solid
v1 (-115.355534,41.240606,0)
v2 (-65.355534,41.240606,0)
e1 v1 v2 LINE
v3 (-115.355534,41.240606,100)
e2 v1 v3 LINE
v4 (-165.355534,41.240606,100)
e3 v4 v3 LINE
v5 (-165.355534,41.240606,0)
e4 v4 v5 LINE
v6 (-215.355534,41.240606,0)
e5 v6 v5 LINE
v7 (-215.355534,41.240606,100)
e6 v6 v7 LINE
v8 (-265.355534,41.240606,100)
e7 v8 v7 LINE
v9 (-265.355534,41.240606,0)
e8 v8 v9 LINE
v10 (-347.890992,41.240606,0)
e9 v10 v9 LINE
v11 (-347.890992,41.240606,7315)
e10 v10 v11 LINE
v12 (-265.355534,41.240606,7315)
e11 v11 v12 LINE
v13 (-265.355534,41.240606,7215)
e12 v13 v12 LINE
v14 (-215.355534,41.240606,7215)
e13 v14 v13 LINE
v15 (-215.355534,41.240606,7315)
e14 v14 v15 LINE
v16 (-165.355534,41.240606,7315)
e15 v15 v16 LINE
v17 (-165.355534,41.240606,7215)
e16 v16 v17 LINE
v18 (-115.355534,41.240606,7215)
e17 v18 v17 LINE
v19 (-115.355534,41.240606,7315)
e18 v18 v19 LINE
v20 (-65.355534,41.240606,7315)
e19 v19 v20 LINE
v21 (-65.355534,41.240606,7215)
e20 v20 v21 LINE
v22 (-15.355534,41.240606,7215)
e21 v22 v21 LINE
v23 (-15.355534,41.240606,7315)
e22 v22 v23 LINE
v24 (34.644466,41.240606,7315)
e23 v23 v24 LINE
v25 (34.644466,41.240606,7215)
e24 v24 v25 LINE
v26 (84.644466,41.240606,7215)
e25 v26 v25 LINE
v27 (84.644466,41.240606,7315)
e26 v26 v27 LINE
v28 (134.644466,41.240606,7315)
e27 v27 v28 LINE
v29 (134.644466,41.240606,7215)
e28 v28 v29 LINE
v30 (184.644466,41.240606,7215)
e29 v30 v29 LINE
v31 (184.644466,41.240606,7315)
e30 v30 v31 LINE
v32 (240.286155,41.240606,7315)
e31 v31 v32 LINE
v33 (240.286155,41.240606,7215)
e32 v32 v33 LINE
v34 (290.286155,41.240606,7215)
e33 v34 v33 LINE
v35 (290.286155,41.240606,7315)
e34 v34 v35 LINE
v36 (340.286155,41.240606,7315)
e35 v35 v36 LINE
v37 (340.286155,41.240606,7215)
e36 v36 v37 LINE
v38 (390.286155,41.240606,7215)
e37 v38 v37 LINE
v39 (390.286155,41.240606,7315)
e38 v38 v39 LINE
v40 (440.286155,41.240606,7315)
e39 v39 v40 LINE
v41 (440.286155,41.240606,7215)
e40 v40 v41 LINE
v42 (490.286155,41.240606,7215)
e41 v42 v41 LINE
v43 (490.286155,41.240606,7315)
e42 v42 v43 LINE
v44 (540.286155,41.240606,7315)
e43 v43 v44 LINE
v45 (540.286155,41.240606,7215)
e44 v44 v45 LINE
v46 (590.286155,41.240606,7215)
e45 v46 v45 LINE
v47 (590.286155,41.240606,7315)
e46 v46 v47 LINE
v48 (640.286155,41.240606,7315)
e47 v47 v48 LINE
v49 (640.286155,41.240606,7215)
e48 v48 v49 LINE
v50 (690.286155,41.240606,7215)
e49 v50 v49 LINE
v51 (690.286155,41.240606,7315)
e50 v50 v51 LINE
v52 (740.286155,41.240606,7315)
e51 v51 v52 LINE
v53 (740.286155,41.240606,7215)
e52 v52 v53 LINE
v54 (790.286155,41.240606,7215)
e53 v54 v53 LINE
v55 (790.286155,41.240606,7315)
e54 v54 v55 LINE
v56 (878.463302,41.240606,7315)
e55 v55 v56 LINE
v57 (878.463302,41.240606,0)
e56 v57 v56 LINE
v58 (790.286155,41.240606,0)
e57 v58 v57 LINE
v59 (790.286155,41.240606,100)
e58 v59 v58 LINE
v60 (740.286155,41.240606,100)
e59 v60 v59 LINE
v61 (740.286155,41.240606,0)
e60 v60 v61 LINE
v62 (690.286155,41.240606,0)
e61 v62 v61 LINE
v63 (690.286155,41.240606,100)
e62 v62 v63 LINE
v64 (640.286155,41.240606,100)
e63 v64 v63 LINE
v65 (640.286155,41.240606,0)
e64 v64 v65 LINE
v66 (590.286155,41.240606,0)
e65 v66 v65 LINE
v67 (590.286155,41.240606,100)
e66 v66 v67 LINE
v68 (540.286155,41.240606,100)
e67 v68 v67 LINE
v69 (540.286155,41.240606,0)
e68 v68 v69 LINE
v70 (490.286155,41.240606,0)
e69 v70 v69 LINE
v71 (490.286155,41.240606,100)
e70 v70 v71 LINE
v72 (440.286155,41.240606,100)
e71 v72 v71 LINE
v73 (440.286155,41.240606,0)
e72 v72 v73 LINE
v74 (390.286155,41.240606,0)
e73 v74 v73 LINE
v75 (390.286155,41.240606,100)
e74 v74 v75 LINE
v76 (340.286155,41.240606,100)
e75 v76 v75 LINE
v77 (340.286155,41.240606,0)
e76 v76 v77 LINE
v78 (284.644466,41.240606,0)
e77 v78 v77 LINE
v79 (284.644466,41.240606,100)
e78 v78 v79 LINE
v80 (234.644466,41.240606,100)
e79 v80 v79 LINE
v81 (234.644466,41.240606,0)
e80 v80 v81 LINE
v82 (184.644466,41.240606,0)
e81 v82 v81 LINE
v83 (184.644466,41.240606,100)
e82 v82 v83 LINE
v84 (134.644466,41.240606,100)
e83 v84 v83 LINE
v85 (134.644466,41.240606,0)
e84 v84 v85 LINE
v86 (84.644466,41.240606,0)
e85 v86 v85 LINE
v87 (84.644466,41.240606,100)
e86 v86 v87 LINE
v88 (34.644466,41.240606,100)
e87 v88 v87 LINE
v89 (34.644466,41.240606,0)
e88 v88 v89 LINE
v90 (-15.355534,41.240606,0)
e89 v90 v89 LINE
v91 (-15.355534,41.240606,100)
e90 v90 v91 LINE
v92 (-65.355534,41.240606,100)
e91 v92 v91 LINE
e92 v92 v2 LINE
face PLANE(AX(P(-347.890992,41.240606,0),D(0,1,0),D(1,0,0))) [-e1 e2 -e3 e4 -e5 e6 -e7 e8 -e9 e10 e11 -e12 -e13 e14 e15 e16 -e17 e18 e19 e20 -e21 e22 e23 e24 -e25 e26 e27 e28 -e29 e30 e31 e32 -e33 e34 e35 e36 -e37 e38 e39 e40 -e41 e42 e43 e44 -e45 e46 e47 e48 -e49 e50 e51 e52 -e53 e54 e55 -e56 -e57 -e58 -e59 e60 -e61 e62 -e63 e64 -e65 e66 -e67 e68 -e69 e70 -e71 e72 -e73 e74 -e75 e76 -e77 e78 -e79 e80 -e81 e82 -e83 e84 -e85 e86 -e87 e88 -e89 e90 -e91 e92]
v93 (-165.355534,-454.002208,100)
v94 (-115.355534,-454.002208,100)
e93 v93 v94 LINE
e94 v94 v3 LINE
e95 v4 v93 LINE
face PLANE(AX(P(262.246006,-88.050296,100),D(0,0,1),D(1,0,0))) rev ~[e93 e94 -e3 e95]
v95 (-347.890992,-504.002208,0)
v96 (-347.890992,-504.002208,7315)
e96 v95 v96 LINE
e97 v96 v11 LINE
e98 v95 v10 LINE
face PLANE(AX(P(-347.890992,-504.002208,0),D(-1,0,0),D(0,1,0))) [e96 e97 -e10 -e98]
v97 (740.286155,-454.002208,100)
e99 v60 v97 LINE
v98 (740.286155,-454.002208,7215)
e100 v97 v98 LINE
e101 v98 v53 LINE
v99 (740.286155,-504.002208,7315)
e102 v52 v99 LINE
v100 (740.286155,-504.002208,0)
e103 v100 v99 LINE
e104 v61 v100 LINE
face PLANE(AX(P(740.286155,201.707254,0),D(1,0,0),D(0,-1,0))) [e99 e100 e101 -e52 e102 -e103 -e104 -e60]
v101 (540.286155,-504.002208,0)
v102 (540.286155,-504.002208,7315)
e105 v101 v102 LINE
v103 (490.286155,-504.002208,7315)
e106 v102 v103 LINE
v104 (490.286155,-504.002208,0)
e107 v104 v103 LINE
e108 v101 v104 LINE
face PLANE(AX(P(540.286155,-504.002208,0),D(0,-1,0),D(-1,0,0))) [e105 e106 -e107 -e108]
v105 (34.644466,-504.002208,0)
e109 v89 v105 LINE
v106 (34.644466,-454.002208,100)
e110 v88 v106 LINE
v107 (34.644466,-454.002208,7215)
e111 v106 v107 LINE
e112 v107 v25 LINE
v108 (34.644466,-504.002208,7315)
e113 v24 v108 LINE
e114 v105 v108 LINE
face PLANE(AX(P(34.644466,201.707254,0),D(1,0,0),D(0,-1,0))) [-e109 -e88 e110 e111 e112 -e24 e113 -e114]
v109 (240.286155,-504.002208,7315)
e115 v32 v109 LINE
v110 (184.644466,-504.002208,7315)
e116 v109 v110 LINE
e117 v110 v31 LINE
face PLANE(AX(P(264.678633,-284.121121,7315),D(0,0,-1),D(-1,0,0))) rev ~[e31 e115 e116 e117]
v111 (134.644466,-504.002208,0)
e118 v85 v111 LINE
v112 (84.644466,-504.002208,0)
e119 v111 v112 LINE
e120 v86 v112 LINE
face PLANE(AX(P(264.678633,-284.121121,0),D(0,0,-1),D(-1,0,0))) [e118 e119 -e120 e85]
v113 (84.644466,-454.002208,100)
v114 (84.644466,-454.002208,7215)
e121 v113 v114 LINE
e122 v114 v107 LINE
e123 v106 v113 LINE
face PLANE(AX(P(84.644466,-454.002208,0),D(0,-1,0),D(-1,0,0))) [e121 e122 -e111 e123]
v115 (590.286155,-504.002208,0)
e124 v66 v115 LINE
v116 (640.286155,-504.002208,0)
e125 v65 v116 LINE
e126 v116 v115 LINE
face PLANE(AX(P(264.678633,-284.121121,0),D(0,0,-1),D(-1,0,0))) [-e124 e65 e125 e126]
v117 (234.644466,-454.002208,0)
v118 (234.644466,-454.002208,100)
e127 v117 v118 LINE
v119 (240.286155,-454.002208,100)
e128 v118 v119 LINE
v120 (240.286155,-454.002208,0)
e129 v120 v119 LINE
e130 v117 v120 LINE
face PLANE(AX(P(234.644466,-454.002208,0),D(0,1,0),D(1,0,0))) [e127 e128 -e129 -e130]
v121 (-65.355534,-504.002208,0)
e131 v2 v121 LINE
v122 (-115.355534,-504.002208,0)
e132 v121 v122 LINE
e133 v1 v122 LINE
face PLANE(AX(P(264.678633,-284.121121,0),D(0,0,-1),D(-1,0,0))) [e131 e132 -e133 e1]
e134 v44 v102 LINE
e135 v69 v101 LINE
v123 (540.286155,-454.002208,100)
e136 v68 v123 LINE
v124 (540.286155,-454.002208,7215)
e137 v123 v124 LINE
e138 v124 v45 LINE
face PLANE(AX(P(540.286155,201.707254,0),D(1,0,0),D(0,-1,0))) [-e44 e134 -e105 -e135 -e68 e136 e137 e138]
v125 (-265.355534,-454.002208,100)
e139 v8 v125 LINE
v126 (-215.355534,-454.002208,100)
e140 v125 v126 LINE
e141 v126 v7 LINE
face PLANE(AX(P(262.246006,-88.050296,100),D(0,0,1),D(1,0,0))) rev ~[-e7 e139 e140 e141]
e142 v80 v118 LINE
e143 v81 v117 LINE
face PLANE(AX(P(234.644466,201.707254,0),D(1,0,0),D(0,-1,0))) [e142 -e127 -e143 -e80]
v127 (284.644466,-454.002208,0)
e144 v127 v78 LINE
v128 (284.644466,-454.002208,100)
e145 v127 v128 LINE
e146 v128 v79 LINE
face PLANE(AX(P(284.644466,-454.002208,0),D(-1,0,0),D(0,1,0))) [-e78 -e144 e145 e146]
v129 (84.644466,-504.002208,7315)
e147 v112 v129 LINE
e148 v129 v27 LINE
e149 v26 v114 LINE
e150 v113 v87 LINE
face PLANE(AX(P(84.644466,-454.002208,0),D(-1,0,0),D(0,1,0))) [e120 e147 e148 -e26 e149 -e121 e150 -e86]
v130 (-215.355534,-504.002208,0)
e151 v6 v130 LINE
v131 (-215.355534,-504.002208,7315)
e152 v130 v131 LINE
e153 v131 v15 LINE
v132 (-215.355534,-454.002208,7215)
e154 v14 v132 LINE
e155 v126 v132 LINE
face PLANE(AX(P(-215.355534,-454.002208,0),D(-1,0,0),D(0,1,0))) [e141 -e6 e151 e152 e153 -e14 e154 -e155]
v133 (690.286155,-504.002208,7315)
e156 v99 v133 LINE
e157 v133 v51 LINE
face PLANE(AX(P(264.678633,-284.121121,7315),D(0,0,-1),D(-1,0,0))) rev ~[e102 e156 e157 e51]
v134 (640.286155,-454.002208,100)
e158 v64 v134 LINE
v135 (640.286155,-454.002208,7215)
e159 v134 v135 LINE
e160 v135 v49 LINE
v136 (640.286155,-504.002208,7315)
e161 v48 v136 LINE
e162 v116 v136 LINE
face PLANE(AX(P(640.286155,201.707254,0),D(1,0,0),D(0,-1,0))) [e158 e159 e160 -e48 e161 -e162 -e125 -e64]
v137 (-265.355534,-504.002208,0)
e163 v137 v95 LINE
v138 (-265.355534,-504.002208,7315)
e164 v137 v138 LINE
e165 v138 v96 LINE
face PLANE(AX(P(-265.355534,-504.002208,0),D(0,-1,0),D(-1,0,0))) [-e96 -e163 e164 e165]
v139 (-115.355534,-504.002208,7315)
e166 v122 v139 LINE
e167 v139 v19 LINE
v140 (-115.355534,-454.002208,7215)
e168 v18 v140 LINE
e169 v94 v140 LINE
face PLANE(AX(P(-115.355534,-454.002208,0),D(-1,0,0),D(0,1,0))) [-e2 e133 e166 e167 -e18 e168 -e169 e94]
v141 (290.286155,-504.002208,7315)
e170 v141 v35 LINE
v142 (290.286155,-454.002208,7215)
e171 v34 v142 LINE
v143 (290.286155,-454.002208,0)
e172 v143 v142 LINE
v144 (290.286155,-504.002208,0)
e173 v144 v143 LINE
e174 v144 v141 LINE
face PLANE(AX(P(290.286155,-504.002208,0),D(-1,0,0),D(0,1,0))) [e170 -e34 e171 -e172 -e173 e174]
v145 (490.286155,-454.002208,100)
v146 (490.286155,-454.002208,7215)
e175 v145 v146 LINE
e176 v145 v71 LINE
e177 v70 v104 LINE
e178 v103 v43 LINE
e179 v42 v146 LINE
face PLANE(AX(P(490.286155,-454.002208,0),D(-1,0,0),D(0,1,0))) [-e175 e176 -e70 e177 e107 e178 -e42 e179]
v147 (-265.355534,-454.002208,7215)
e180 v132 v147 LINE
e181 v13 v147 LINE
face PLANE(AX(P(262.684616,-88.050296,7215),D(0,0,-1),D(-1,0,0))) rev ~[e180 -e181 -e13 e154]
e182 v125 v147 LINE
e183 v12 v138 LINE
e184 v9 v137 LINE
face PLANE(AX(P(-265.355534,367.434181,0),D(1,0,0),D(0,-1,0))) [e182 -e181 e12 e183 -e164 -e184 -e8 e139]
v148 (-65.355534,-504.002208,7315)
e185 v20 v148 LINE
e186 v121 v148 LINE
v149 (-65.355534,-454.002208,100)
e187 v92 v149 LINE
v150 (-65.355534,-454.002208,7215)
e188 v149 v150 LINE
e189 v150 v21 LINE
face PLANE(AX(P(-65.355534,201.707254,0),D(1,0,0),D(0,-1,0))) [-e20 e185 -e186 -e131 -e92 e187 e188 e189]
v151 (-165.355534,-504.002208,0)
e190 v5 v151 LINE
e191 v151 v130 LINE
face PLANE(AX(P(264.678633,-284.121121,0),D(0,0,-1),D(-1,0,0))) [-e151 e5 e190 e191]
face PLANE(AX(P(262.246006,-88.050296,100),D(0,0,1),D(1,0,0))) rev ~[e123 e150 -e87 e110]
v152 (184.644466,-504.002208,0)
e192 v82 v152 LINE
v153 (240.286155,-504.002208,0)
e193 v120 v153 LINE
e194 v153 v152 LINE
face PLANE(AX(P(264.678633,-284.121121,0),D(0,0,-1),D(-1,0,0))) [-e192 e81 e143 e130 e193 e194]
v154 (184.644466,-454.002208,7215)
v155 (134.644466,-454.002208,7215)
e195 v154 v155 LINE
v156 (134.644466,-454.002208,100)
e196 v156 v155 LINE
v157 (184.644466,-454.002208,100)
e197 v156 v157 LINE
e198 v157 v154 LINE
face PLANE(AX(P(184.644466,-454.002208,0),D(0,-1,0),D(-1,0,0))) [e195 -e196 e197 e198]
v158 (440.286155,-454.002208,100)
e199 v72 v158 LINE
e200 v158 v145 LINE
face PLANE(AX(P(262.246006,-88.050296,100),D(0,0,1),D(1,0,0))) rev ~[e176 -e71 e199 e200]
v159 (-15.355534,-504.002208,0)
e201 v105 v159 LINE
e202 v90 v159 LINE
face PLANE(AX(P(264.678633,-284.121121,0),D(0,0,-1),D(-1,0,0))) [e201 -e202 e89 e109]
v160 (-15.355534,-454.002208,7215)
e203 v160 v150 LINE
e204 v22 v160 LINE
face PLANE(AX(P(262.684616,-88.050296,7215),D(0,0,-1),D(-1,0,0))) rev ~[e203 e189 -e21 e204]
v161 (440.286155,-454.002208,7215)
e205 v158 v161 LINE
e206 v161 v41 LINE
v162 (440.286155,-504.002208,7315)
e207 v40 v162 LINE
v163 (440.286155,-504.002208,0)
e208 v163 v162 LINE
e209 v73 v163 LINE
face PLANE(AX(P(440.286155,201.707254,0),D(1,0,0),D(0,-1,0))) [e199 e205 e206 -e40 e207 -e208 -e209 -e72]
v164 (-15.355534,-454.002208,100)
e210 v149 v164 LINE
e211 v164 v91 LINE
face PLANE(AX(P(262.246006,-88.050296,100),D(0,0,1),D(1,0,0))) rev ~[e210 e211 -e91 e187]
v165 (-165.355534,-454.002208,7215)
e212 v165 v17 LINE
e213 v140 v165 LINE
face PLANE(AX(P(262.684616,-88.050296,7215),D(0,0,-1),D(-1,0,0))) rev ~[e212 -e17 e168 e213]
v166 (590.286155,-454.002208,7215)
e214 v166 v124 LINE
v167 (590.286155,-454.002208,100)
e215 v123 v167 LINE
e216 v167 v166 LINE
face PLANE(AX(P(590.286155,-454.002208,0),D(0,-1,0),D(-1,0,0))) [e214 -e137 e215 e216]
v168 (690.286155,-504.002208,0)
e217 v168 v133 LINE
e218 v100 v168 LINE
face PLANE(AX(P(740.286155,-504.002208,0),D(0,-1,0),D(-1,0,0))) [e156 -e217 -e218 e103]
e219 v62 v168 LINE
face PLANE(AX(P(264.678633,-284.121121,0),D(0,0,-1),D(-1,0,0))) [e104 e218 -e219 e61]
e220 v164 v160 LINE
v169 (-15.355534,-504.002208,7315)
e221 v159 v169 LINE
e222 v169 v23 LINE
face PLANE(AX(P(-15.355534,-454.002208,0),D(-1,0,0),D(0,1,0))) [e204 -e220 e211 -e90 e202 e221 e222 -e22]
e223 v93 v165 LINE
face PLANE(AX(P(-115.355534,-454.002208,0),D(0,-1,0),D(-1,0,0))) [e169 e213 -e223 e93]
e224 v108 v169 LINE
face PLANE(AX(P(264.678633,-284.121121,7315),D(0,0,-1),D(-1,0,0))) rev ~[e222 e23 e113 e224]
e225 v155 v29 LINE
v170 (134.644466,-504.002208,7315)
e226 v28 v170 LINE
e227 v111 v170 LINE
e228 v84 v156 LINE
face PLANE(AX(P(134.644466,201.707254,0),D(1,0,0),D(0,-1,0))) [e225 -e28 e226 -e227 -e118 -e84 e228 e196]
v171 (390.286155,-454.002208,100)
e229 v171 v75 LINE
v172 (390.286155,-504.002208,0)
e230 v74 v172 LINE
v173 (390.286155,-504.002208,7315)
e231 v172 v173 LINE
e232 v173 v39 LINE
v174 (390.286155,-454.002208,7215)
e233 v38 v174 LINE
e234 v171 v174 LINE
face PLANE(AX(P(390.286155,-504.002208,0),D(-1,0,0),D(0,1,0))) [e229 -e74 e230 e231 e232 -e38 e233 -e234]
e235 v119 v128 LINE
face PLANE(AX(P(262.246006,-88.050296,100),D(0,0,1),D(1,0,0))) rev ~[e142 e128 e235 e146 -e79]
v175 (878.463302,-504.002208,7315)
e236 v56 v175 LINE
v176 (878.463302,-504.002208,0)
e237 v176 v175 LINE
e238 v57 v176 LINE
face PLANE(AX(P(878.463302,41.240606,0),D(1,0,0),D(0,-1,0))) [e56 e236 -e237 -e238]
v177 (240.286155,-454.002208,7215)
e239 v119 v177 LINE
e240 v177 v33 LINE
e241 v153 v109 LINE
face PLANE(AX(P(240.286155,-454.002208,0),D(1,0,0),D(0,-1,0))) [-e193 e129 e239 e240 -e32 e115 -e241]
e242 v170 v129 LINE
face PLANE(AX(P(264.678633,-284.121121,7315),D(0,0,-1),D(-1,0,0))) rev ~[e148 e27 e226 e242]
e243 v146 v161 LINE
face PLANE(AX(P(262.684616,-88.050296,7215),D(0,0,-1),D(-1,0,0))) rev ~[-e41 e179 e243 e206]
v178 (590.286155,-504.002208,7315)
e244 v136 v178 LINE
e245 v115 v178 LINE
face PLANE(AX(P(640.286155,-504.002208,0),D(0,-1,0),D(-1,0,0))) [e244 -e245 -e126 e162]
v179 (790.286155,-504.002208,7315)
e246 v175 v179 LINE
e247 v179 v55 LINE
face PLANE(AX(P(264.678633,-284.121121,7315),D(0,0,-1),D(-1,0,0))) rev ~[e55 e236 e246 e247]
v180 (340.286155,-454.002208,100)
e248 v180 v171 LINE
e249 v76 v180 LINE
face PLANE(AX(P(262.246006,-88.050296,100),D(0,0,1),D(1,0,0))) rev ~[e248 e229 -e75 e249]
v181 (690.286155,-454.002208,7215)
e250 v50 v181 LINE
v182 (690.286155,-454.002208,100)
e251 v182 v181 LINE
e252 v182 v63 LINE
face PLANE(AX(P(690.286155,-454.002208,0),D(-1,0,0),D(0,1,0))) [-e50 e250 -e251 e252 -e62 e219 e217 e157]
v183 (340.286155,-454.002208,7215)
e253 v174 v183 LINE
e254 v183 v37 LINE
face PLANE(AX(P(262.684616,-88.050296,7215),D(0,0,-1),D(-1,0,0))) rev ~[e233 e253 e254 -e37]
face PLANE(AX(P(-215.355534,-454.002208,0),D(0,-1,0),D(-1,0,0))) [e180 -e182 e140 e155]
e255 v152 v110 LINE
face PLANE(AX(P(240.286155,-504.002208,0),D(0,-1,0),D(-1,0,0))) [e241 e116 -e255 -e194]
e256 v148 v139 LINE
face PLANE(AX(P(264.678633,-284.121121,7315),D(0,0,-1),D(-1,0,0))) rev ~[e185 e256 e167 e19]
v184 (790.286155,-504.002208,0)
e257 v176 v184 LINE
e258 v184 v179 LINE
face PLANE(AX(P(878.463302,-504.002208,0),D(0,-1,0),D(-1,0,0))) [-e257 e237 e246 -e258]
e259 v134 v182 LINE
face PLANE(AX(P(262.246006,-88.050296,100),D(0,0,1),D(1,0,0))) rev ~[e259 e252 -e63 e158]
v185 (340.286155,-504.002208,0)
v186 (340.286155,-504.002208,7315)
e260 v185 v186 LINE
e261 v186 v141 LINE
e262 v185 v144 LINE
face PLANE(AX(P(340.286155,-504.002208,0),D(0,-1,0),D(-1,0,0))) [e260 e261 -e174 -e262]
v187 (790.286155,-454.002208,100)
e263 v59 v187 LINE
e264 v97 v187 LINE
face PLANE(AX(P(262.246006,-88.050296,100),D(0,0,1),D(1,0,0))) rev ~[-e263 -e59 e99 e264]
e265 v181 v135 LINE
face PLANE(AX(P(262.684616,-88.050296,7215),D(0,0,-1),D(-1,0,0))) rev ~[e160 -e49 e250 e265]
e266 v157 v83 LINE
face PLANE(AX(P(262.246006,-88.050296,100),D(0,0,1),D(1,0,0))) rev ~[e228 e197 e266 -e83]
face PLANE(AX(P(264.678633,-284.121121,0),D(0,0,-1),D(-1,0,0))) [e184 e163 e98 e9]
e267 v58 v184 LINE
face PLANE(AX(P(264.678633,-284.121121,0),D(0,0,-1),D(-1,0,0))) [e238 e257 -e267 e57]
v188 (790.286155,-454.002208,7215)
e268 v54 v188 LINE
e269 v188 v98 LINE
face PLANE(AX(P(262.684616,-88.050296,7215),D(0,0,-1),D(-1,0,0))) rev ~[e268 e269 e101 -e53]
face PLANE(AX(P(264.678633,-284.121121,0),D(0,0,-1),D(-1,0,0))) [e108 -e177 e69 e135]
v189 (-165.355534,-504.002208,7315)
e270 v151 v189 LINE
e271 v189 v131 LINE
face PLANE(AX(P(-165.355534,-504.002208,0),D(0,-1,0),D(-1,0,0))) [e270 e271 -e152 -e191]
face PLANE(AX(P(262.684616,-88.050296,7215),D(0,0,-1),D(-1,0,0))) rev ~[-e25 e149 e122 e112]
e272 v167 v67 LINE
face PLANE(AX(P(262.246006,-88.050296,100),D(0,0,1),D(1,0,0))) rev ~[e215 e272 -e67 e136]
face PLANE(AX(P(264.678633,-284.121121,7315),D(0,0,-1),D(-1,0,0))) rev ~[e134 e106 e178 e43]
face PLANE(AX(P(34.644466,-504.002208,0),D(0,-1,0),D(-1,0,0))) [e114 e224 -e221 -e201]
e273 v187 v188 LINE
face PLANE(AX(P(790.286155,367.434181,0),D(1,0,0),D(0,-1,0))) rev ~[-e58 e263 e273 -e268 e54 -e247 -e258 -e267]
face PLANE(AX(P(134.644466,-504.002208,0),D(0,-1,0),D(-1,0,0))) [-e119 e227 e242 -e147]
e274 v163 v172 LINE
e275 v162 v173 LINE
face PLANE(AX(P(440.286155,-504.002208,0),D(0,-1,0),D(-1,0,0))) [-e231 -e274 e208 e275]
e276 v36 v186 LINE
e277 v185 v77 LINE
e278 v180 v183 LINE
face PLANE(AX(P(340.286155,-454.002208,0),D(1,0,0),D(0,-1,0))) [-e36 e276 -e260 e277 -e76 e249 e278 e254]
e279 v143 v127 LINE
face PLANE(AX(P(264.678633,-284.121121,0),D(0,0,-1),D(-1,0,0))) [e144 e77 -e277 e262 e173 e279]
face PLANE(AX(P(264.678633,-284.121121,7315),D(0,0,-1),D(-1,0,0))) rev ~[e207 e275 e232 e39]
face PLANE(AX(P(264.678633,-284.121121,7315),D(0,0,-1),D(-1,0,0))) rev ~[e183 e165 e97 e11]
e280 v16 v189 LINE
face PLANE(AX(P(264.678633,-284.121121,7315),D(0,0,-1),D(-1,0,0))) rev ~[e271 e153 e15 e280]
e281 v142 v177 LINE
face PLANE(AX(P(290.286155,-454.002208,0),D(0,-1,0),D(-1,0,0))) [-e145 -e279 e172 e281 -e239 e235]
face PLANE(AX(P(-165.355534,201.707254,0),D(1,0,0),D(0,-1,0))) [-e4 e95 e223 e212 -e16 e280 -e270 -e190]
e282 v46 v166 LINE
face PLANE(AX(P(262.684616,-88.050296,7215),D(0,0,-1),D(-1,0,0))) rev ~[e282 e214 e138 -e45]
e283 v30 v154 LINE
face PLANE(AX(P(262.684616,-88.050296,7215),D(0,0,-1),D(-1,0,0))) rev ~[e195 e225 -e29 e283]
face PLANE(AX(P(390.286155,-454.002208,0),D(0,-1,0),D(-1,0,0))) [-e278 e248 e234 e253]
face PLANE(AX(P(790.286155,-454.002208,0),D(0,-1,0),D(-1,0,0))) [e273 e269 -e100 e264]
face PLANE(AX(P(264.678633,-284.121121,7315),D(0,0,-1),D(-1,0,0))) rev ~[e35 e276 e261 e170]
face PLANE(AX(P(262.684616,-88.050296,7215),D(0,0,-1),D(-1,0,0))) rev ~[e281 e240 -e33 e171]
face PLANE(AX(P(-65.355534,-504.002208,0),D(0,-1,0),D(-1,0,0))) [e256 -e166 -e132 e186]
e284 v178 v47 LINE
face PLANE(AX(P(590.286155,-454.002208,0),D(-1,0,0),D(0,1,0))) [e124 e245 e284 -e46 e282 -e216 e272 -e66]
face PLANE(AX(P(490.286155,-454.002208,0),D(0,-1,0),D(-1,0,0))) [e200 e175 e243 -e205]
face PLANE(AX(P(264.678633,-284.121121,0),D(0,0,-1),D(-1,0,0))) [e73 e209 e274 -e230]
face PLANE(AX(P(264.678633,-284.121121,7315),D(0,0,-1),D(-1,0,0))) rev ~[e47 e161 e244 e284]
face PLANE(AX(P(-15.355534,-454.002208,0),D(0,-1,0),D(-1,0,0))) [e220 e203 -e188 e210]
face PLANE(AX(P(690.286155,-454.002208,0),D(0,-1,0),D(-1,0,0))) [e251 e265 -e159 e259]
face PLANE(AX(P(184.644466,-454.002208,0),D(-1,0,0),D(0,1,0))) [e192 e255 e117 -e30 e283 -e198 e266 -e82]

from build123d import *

# Parameters (mm, degrees)
BOSS_EXTRUDE1_DEPTH = 7315
CUT_EXTRUDE1_DEPTH  = 100
CUT_EXTRUDE2_DEPTH  = 100


with BuildPart() as part:
    # Sketch1 → Boss-Extrude1 (new body)
    with BuildSketch(Plane.XY):
        Polygon((390.286155145, -454.00220839), (340.286155145, -454.00220839), (340.286155145, -504.00220839), (290.286155145, -504.00220839), (290.286155145, -454.00220839), (240.286155145, -454.00220839), (240.286155145, -504.00220839), (184.64446635, -504.00220839), (184.64446635, -454.00220839), (134.64446635, -454.00220839), (134.64446635, -504.00220839), (84.64446635, -504.00220839), (84.64446635, -454.00220839), (34.64446635, -454.00220839), (34.64446635, -504.00220839), (-15.35553365, -504.00220839), (-15.35553365, -454.00220839), (-65.35553365, -454.00220839), (-65.35553365, -504.00220839), (-115.35553365, -504.00220839), (-115.35553365, -454.00220839), (-165.35553365, -454.00220839), (-165.35553365, -504.00220839), (-215.35553365, -504.00220839), (-215.35553365, -454.00220839), (-265.35553365, -454.00220839), (-265.35553365, -504.00220839), (-347.890991568, -504.00220839), (-347.890991568, 41.240606266), (878.463301858, 41.240606266), (878.463301858, -504.00220839), (790.286155145, -504.00220839), (790.286155145, -454.00220839), (740.286155145, -454.00220839), (740.286155145, -504.00220839), (690.286155145, -504.00220839), (690.286155145, -454.00220839), (640.286155145, -454.00220839), (640.286155145, -504.00220839), (590.286155145, -504.00220839), (590.286155145, -454.00220839), (540.286155145, -454.00220839), (540.286155145, -504.00220839), (490.286155145, -504.00220839), (490.286155145, -454.00220839), (440.286155145, -454.00220839), (440.286155145, -504.00220839), (390.286155145, -504.00220839), align=None)
    extrude(amount=BOSS_EXTRUDE1_DEPTH)

    # Sketch2 → Cut-Extrude1 (cut)
    with BuildSketch(Plane.XY.offset(7315)):
        Polygon((-265.35553365, -454.00220839), (-265.35553365, 201.707253547), (-265.35553365, 367.434180801), (790.286155145, 367.434180801), (790.286155145, -454.00220839), (740.286155145, -454.00220839), (740.286155145, 201.707253547), (690.286155145, 201.707253547), (690.286155145, -454.00220839), (640.286155145, -454.00220839), (640.286155145, 201.707253547), (590.286155145, 201.707253547), (590.286155145, -454.00220839), (540.286155145, -454.00220839), (540.286155145, 201.707253547), (490.286155145, 201.707253547), (490.286155145, -454.00220839), (440.286155145, -454.00220839), (440.286155145, 201.707253547), (390.286155145, 201.707253547), (390.286155145, -454.00220839), (340.286155145, -454.00220839), (340.286155145, 201.707253547), (290.286155145, 201.707253547), (290.286155145, -454.00220839), (240.286155145, -454.00220839), (240.286155145, 201.707253547), (184.64446635, 201.707253547), (184.64446635, -454.00220839), (134.64446635, -454.00220839), (134.64446635, 201.707253547), (84.64446635, 201.707253547), (84.64446635, -454.00220839), (34.64446635, -454.00220839), (34.64446635, 201.707253547), (-15.35553365, 201.707253547), (-15.35553365, -454.00220839), (-65.35553365, -454.00220839), (-65.35553365, 201.707253547), (-115.35553365, 201.707253547), (-115.35553365, -454.00220839), (-165.35553365, -454.00220839), (-165.35553365, 201.707253547), (-215.35553365, 201.707253547), (-215.35553365, -454.00220839), align=None)
    extrude(amount=-CUT_EXTRUDE1_DEPTH, mode=Mode.SUBTRACT)

    # Sketch3 → Cut-Extrude2 (cut)
    with BuildSketch(Plane(origin=(0, 0, 0), x_dir=(-1, 0, 0), z_dir=(0, 0, -1))):
        Polygon((-790.286155145, -454.00220839), (-790.286155145, 201.707253547), (-790.286155145, 367.434180801), (265.35553365, 367.434180801), (265.35553365, -454.00220839), (215.35553365, -454.00220839), (215.35553365, 201.707253547), (165.35553365, 201.707253547), (165.35553365, -454.00220839), (115.35553365, -454.00220839), (115.35553365, 201.707253547), (65.35553365, 201.707253547), (65.35553365, -454.00220839), (15.35553365, -454.00220839), (15.35553365, 201.707253547), (-34.64446635, 201.707253547), (-34.64446635, -454.00220839), (-84.64446635, -454.00220839), (-84.64446635, 201.707253547), (-134.64446635, 201.707253547), (-134.64446635, -454.00220839), (-184.64446635, -454.00220839), (-184.64446635, 201.707253547), (-234.64446635, 201.707253547), (-234.64446635, -454.00220839), (-284.64446635, -454.00220839), (-284.64446635, 201.707253547), (-340.286155145, 201.707253547), (-340.286155145, -454.00220839), (-390.286155145, -454.00220839), (-390.286155145, 201.707253547), (-440.286155145, 201.707253547), (-440.286155145, -454.00220839), (-490.286155145, -454.00220839), (-490.286155145, 201.707253547), (-540.286155145, 201.707253547), (-540.286155145, -454.00220839), (-590.286155145, -454.00220839), (-590.286155145, 201.707253547), (-640.286155145, 201.707253547), (-640.286155145, -454.00220839), (-690.286155145, -454.00220839), (-690.286155145, 201.707253547), (-740.286155145, 201.707253547), (-740.286155145, -454.00220839), align=None)
    extrude(amount=-CUT_EXTRUDE2_DEPTH, mode=Mode.SUBTRACT)


solid = part.part
